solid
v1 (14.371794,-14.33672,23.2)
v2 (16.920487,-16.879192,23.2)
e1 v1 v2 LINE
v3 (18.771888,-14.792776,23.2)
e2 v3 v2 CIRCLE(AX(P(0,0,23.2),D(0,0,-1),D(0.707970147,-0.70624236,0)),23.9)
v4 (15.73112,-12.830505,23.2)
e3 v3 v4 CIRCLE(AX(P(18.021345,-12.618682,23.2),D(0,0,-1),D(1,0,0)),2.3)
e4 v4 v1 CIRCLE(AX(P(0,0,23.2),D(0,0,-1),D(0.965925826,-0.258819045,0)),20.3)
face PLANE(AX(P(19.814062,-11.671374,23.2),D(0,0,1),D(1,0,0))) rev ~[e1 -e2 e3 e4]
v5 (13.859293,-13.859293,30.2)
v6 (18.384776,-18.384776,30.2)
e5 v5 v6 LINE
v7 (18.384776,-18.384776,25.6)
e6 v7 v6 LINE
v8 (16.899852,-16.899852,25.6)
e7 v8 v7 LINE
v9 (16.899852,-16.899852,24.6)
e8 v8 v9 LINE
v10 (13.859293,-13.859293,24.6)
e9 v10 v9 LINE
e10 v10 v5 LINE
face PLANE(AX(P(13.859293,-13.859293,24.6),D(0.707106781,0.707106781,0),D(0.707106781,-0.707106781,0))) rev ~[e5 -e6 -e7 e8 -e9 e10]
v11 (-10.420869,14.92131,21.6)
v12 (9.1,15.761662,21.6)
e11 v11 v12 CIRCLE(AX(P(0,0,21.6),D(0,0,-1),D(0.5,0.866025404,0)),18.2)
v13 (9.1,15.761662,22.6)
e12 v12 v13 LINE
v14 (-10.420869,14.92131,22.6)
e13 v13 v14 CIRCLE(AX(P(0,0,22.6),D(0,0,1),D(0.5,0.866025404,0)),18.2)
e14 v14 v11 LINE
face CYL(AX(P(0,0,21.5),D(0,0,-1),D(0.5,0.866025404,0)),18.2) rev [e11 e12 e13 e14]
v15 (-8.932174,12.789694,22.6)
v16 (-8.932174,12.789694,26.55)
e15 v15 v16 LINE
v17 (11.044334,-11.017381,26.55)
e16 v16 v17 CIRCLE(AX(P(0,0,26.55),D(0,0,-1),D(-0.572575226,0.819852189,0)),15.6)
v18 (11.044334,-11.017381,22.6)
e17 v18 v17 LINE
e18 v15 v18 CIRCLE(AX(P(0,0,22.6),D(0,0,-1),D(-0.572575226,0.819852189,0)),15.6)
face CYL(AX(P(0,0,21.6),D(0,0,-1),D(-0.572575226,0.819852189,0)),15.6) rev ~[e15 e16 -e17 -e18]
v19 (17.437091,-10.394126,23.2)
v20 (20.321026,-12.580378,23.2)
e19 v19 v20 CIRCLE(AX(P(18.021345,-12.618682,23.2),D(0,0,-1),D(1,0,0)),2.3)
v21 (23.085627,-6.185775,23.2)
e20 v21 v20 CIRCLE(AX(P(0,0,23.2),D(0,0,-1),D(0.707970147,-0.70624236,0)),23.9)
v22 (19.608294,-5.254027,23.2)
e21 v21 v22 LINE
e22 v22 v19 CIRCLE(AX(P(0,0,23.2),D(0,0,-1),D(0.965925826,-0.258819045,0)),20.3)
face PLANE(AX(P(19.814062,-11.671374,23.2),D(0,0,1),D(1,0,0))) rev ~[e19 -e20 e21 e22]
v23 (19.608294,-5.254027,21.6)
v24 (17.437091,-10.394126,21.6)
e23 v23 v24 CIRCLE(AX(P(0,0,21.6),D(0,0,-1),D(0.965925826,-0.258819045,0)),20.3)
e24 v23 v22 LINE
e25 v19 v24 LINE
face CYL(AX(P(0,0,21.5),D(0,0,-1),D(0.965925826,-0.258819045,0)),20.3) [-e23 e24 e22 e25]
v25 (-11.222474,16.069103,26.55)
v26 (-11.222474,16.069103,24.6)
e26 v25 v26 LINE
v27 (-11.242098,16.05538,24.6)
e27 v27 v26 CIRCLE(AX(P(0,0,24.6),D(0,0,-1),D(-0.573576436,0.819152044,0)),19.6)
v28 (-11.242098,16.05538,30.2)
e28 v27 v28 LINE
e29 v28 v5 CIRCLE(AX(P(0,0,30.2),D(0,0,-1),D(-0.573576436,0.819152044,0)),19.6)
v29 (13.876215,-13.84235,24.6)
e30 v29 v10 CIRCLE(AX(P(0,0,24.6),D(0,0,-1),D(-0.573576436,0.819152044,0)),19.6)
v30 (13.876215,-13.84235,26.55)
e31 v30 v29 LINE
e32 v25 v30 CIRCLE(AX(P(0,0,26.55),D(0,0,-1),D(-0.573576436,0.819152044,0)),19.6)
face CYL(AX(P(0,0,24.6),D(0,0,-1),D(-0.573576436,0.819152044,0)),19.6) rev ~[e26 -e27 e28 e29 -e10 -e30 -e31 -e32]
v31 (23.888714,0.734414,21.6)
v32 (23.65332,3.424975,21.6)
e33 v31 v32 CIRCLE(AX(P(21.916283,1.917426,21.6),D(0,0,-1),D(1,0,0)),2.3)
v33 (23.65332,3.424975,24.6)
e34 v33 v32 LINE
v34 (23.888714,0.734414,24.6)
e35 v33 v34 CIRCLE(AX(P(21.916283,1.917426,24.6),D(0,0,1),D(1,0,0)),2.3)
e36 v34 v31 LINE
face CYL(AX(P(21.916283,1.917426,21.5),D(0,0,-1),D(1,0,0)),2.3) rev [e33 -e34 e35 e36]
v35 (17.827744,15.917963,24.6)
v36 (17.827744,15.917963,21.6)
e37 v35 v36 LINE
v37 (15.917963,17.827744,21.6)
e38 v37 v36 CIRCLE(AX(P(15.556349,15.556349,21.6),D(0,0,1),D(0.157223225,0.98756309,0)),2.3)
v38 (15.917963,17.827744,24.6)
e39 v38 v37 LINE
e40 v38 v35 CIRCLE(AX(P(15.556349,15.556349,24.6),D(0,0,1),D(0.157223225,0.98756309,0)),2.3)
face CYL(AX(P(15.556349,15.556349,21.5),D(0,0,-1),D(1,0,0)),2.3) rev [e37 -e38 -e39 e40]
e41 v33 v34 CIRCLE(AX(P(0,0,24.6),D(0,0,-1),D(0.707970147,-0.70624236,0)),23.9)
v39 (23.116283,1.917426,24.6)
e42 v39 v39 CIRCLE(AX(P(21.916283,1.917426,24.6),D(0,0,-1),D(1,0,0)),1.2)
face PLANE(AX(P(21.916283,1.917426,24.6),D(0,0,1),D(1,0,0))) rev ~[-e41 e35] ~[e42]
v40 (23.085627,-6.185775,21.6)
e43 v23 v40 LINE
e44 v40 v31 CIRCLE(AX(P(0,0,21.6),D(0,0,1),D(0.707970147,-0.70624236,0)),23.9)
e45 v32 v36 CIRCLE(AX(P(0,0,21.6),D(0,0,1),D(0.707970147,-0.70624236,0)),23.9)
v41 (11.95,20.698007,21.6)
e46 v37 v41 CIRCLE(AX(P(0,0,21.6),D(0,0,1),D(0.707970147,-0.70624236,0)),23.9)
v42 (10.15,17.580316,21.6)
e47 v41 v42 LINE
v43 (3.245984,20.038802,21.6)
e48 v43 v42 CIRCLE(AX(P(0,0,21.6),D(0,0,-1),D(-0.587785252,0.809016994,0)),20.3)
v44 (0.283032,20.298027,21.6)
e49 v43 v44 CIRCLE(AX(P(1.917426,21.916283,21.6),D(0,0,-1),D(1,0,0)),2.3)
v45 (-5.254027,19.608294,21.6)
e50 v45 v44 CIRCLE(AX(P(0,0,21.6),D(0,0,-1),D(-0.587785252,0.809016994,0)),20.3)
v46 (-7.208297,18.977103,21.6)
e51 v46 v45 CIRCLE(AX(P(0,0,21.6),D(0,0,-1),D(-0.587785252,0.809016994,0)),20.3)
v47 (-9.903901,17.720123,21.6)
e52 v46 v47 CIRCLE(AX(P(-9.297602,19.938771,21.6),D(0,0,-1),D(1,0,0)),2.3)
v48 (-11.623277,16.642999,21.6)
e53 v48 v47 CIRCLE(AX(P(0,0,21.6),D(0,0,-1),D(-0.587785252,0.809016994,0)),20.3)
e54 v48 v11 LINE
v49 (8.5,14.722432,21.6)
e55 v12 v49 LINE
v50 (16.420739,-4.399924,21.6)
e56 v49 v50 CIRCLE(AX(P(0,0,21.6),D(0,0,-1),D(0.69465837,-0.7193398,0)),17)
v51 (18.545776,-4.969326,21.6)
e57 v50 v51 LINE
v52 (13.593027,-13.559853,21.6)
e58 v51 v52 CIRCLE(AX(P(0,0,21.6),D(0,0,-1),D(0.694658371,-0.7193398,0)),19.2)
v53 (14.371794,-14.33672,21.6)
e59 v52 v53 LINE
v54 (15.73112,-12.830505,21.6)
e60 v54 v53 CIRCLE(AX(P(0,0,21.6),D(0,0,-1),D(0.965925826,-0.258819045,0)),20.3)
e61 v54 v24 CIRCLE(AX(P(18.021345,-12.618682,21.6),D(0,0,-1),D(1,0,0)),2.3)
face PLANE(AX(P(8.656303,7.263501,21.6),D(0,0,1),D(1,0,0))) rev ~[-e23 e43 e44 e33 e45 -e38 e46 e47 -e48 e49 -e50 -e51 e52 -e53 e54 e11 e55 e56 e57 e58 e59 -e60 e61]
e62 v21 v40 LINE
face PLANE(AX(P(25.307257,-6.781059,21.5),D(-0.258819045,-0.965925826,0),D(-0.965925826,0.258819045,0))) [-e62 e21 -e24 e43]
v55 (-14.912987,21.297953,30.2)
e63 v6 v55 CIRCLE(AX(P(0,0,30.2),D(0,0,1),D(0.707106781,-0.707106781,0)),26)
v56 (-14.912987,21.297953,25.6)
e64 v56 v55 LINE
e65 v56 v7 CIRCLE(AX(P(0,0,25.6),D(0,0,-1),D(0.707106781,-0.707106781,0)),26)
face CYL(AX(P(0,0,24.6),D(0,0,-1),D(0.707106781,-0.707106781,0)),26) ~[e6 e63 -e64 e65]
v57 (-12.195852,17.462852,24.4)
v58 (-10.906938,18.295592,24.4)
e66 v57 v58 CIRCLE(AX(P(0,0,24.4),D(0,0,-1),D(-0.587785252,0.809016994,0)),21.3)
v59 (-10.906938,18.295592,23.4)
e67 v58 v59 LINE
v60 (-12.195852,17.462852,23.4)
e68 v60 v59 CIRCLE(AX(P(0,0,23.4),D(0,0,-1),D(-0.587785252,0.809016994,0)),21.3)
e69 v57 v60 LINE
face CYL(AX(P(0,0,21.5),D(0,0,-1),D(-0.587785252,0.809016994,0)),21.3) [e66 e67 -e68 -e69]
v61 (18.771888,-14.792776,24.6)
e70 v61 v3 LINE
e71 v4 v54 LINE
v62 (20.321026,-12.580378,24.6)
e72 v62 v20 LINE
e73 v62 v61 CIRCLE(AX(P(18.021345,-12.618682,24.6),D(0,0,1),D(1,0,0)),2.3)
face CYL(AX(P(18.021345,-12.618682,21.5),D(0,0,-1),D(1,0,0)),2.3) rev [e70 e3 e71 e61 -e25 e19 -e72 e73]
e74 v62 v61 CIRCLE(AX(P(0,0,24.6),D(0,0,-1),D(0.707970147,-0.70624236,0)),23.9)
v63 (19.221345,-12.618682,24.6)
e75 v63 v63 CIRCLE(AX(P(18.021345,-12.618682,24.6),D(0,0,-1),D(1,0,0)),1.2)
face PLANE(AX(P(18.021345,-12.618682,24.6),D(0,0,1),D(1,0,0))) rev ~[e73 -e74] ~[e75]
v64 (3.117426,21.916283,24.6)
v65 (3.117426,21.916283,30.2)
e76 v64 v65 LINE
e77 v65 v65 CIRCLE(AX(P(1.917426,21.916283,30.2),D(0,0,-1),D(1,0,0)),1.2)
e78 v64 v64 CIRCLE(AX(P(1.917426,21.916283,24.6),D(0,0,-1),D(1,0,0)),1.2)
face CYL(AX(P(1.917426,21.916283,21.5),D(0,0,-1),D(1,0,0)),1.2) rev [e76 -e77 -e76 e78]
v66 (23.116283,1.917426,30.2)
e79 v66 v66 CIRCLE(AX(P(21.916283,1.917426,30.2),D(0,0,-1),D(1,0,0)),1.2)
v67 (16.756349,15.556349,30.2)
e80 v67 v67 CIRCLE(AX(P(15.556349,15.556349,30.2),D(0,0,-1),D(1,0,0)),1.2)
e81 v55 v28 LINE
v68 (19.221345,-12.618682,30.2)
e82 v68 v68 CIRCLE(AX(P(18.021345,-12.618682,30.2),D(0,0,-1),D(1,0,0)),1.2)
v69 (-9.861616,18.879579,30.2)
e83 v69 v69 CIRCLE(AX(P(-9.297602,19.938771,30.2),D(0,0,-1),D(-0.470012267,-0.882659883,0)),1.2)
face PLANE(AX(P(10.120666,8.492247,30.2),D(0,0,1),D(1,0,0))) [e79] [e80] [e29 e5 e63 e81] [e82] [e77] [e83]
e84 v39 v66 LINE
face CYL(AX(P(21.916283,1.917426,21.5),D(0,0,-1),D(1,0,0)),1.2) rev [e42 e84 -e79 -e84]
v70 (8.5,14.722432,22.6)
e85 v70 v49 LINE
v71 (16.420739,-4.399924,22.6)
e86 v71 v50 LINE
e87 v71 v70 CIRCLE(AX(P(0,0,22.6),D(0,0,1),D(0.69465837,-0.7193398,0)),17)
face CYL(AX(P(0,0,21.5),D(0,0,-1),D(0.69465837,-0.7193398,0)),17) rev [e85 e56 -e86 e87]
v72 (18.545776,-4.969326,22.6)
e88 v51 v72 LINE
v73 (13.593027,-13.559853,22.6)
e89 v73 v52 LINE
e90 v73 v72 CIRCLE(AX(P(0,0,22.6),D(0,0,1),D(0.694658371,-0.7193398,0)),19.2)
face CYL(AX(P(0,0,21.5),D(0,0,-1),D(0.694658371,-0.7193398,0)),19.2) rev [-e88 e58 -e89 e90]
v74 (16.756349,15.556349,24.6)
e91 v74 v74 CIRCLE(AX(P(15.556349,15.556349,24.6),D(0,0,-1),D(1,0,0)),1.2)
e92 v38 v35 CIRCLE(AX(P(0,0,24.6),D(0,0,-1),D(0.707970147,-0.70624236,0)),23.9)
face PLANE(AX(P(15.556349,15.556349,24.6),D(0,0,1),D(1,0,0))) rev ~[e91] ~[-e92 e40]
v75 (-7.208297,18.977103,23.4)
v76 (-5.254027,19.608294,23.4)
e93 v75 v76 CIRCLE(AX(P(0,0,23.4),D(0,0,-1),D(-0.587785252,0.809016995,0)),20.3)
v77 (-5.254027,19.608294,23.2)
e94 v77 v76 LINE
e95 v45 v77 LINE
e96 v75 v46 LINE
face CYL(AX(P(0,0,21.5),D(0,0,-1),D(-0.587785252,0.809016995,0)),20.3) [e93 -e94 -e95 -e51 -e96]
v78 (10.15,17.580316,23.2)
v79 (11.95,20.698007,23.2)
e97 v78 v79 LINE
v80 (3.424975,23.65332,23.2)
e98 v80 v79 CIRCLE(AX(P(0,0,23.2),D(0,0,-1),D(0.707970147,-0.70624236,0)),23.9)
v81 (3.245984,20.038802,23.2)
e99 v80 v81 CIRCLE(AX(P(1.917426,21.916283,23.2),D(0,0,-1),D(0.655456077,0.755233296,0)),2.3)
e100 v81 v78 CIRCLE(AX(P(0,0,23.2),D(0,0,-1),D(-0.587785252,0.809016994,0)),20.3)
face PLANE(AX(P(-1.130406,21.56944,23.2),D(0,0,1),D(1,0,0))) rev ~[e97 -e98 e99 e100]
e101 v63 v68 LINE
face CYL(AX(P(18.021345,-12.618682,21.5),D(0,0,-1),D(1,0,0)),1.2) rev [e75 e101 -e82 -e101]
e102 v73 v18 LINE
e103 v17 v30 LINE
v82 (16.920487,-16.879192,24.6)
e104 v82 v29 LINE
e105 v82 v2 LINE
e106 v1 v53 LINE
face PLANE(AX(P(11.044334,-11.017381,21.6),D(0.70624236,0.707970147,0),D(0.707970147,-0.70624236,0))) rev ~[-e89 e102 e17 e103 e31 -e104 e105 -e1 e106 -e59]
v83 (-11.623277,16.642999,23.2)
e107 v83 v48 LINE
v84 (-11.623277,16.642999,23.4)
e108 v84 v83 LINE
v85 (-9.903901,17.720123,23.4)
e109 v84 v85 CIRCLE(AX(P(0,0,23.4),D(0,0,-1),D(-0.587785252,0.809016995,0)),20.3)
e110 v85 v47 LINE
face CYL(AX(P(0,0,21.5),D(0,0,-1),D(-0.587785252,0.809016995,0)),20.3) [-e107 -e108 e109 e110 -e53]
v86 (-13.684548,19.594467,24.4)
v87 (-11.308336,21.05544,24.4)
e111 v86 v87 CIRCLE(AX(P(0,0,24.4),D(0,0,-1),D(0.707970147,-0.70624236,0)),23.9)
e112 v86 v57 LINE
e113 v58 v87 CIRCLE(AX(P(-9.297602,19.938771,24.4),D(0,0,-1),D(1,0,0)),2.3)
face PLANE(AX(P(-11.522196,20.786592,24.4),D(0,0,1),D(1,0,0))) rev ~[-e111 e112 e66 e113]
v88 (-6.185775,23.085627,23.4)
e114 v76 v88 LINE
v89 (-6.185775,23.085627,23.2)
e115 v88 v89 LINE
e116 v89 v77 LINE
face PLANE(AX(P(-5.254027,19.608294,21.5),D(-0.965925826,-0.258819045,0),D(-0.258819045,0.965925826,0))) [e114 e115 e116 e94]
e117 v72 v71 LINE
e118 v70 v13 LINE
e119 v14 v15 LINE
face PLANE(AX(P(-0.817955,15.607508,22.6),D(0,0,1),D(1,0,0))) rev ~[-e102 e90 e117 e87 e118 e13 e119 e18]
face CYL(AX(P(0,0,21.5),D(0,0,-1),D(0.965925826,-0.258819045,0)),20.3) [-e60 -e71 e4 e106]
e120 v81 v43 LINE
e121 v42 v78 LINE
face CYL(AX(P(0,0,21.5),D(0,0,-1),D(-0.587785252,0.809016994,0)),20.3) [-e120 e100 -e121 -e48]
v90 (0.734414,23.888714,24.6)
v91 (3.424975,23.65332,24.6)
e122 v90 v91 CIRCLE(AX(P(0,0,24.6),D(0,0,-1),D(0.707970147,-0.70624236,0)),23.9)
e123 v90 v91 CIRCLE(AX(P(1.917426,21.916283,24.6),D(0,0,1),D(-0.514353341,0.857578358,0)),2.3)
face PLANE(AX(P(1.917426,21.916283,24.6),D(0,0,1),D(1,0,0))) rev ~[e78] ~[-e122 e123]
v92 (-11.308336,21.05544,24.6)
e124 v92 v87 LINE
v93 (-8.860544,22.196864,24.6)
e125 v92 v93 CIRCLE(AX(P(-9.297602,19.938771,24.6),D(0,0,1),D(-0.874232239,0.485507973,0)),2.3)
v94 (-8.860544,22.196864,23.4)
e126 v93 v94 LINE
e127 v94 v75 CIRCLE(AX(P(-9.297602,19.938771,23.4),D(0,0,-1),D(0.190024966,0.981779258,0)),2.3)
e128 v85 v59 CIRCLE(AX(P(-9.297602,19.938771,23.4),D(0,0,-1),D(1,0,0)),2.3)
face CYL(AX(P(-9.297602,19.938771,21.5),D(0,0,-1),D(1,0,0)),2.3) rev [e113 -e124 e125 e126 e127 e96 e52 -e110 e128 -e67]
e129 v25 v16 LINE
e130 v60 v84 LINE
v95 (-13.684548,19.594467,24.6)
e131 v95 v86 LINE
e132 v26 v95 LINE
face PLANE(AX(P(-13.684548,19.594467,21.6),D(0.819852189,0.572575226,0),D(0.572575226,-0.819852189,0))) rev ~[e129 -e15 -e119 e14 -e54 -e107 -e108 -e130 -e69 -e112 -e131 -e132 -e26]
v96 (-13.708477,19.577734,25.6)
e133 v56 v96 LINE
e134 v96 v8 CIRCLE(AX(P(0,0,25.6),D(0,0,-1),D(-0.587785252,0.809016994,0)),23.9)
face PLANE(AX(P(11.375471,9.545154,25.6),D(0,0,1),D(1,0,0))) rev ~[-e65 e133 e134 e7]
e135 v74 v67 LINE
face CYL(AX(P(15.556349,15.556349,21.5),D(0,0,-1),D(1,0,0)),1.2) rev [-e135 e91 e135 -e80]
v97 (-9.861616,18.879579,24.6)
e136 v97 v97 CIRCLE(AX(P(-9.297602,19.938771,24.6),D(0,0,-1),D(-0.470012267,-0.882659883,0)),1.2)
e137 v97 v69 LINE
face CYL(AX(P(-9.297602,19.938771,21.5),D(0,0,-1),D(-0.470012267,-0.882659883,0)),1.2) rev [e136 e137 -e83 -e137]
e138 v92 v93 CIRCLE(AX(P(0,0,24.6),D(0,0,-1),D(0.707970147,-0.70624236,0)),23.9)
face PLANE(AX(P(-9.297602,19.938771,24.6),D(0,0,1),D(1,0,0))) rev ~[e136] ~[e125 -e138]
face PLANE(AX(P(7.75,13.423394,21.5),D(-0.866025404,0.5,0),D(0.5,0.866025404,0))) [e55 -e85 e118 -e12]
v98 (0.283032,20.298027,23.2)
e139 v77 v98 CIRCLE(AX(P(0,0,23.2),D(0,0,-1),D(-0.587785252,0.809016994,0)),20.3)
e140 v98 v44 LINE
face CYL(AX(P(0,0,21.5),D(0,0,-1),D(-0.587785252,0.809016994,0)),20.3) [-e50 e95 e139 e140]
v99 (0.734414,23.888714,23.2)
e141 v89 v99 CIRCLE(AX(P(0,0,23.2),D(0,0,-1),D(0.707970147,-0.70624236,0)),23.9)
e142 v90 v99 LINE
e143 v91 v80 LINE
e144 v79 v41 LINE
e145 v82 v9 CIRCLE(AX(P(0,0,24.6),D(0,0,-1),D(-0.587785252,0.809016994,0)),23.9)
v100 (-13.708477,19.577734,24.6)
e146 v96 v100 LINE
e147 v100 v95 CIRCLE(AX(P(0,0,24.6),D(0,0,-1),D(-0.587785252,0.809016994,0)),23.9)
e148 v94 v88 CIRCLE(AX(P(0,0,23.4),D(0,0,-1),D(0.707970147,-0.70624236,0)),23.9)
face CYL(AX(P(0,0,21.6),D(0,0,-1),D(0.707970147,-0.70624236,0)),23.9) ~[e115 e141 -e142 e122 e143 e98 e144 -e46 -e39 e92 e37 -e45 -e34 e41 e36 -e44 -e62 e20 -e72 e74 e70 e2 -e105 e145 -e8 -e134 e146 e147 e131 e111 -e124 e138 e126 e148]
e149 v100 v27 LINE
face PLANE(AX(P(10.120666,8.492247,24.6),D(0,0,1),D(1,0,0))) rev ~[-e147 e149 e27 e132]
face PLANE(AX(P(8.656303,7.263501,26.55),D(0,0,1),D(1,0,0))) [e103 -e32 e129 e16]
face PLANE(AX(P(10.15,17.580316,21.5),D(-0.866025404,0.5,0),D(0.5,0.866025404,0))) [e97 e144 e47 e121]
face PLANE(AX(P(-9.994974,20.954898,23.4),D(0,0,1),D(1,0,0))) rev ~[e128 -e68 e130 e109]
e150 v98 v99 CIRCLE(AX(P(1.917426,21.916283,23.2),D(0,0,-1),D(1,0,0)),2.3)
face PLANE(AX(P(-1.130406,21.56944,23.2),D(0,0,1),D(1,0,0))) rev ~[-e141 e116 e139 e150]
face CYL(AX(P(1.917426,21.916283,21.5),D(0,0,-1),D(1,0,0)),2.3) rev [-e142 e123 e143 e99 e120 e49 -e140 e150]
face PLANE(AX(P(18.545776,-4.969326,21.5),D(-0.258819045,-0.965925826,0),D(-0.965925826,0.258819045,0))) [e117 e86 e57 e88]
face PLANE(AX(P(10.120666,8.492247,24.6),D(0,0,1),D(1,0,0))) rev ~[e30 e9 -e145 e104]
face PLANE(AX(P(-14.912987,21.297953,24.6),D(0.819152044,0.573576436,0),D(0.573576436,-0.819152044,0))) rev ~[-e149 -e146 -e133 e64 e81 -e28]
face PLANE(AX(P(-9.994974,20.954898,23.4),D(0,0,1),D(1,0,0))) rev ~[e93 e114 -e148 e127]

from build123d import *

# Parameters (mm, degrees)
BOSS_1_DEPTH  = 5.6
BOSS_2_DEPTH  = 4.95
CUT_3_DEPTH   = 1.1
CUT_4_DEPTH   = 1.1
CUT_5_DEPTH   = 1.1
CUT_6_DEPTH   = 1.1
CUT_7_DEPTH   = 1.7
CUT_8_DEPTH   = 1.7
CUT_9_DEPTH   = 1.9
CUT_10_DEPTH  = 2.9
S_HOLE11_R    = 1.2
HOLE_11_DEPTH = 8.8
S_HOLE12_R    = 2.3
HOLE_12_DEPTH = 3.1
S_HOLE13_R    = 1.2
HOLE_13_DEPTH = 8.8
S_HOLE14_R    = 2.3
HOLE_14_DEPTH = 3.1
S_HOLE15_R    = 1.2
HOLE_15_DEPTH = 8.8
S_HOLE16_R    = 2.3
HOLE_16_DEPTH = 3.1
S_HOLE17_R    = 1.2
HOLE_17_DEPTH = 8.8
S_HOLE18_R    = 2.3
HOLE_18_DEPTH = 3.1
S_HOLE19_R    = 1.2
HOLE_19_DEPTH = 8.8
S_HOLE20_R    = 2.3
HOLE_20_DEPTH = 3.1


with BuildPart() as part:
    # S_prism1 → Boss_1 (new body)
    with BuildSketch(Plane.XY.offset(24.6)):
        with BuildLine():
            Line((-14.912987345, 21.297953152), (-11.242098152, 16.055380068))
            ThreePointArc((-11.242098152, 16.055380068), (15.014471085, 12.59863715), (13.859292911, -13.859292911))
            Line((13.859292911, -13.859292911), (18.384776311, -18.384776311))
            ThreePointArc((18.384776311, -18.384776311), (19.917155521, 16.712477852), (-14.912987345, 21.297953152))
        make_face()
    extrude(amount=BOSS_1_DEPTH)

    # S_prism2 → Boss_2 (add)
    with BuildSketch(Plane.XY.offset(21.6)):
        with BuildLine():
            Line((-13.68454789, 19.594467307), (-8.932173518, 12.789694142))
            ThreePointArc((-8.932173518, 12.789694142), (11.950293313, 10.027486711), (11.044334296, -11.017380812))
            Line((11.044334296, -11.017380812), (16.920486517, -16.879192399))
            ThreePointArc((16.920486517, -16.879192399), (18.308462191, 15.362623872), (-13.68454789, 19.594467307))
        make_face()
    extrude(amount=BOSS_2_DEPTH)

    # S_pcut3 → Cut_3 (cut)
    with BuildSketch(Plane.XY.offset(24.5)):
        with BuildLine():
            Line((-15.39997361, 21.196245253), (-14.04806753, 19.335506166))
            ThreePointArc((-14.04806753, 19.335506166), (18.308462191, 15.362623872), (16.602335054, -17.192221228))
            Line((16.602335054, -17.192221228), (18.200049306, -18.846702769))
            ThreePointArc((18.200049306, -18.846702769), (20.07036441, 16.841035374), (-15.39997361, 21.196245253))
        make_face()
    extrude(amount=CUT_3_DEPTH, mode=Mode.SUBTRACT)

    # S_pcut4 → Cut_4 (cut)
    with BuildSketch(Plane.XY.offset(21.5)):
        with BuildLine():
            Line((-9.992349289, 13.753288904), (-9.110671411, 12.539763413))
            ThreePointArc((-9.110671411, 12.539763413), (11.873688868, 9.96320795), (10.767204742, -11.149766905))
            Line((10.767204742, -11.149766905), (11.809192298, -12.228776606))
            ThreePointArc((11.809192298, -12.228776606), (13.022755533, 10.927389365), (-9.992349289, 13.753288904))
        make_face()
    extrude(amount=CUT_4_DEPTH, mode=Mode.SUBTRACT)

    # S_pcut5 → Cut_5 (cut)
    with BuildSketch(Plane.XY.offset(21.5)):
        with BuildLine():
            Line((-10.697691592, 14.724109298), (-9.110671411, 12.539763413))
            ThreePointArc((-9.110671411, 12.539763413), (-0.811207322, 15.478757789), (7.75, 13.423393759))
            Line((7.75, 13.423393759), (9.1, 15.761662349))
            ThreePointArc((9.1, 15.761662349), (-0.952514404, 18.175057533), (-10.697691592, 14.724109298))
        make_face()
    extrude(amount=CUT_5_DEPTH, mode=Mode.SUBTRACT)

    # S_pcut6 → Cut_6 (cut)
    with BuildSketch(Plane.XY.offset(21.5)):
        with BuildLine():
            Line((18.545775865, -4.969325666), (14.971850307, -4.011695199))
            ThreePointArc((14.971850307, -4.011695199), (13.355251987, -7.866844626), (10.767204742, -11.149766905))
            Line((10.767204742, -11.149766905), (13.337440713, -13.811324167))
            ThreePointArc((13.337440713, -13.811324167), (16.54327988, -9.744736569), (18.545775865, -4.969325666))
        make_face()
    extrude(amount=CUT_6_DEPTH, mode=Mode.SUBTRACT)

    # S_pcut7 → Cut_7 (cut)
    with BuildSketch(Plane.XY.offset(21.5)):
        with BuildLine():
            Line((25.307256649, -6.781058982), (19.608294274, -5.254026616))
            ThreePointArc((19.608294274, -5.254026616), (17.491071957, -10.303028768), (14.10156492, -14.602597947))
            Line((14.10156492, -14.602597947), (18.200049306, -18.846702769))
            ThreePointArc((18.200049306, -18.846702769), (22.574684004, -13.29750511), (25.307256649, -6.781058982))
        make_face()
    extrude(amount=CUT_7_DEPTH, mode=Mode.SUBTRACT)

    # S_pcut8 → Cut_8 (cut)
    with BuildSketch(Plane.XY.offset(21.5)):
        with BuildLine():
            Line((-15.39997361, 21.196245253), (-11.932040622, 16.423044986))
            ThreePointArc((-11.932040622, 16.423044986), (-1.062419912, 20.272179556), (10.15, 17.580315697))
            Line((10.15, 17.580315697), (13.1, 22.689865579))
            ThreePointArc((13.1, 22.689865579), (-1.371202054, 26.164093811), (-15.39997361, 21.196245253))
        make_face()
    extrude(amount=CUT_8_DEPTH, mode=Mode.SUBTRACT)

    # S_pcut9 → Cut_9 (cut)
    with BuildSketch(Plane.XY.offset(21.5)):
        with BuildLine():
            Line((-15.39997361, 21.196245253), (-11.932040622, 16.423044986))
            ThreePointArc((-11.932040622, 16.423044986), (-8.739375265, 18.322481272), (-5.254026616, 19.608294274))
            Line((-5.254026616, 19.608294274), (-6.781058982, 25.307256649))
            ThreePointArc((-6.781058982, 25.307256649), (-11.279390736, 23.64773445), (-15.39997361, 21.196245253))
        make_face()
    extrude(amount=CUT_9_DEPTH, mode=Mode.SUBTRACT)

    # S_pcut10 → Cut_10 (cut)
    with BuildSketch(Plane.XY.offset(21.5)):
        with BuildLine():
            Line((-15.39997361, 21.196245253), (-12.519825874, 17.23206198))
            ThreePointArc((-12.519825874, 17.23206198), (-10.326444911, 18.629399762), (-7.97912044, 19.749016102))
            Line((-7.97912044, 19.749016102), (-9.814692747, 24.29221699))
            ThreePointArc((-9.814692747, 24.29221699), (-12.70201205, 22.915036327), (-15.39997361, 21.196245253))
        make_face()
    extrude(amount=CUT_10_DEPTH, mode=Mode.SUBTRACT)

    # S_hole11 → Hole_11 (cut)
    with BuildSketch(Plane.XY.offset(21.5)):
        with Locations((18.021344974, -12.6186816)):
            Circle(S_HOLE11_R)
    extrude(amount=HOLE_11_DEPTH, mode=Mode.SUBTRACT)

    # S_hole12 → Hole_12 (cut)
    with BuildSketch(Plane.XY.offset(21.5)):
        with Locations((18.021344974, -12.6186816)):
            Circle(S_HOLE12_R)
    extrude(amount=HOLE_12_DEPTH, mode=Mode.SUBTRACT)

    # S_hole13 → Hole_13 (cut)
    with BuildSketch(Plane.XY.offset(21.5)):
        with Locations((21.916283358, 1.91742634)):
            Circle(S_HOLE13_R)
    extrude(amount=HOLE_13_DEPTH, mode=Mode.SUBTRACT)

    # S_hole14 → Hole_14 (cut)
    with BuildSketch(Plane.XY.offset(21.5)):
        with Locations((21.916283358, 1.91742634)):
            Circle(S_HOLE14_R)
    extrude(amount=HOLE_14_DEPTH, mode=Mode.SUBTRACT)

    # S_hole15 → Hole_15 (cut)
    with BuildSketch(Plane.XY.offset(21.5)):
        with Locations((15.556349186, 15.556349186)):
            Circle(S_HOLE15_R)
    extrude(amount=HOLE_15_DEPTH, mode=Mode.SUBTRACT)

    # S_hole16 → Hole_16 (cut)
    with BuildSketch(Plane.XY.offset(21.5)):
        with Locations((15.556349186, 15.556349186)):
            Circle(S_HOLE16_R)
    extrude(amount=HOLE_16_DEPTH, mode=Mode.SUBTRACT)

    # S_hole17 → Hole_17 (cut)
    with BuildSketch(Plane.XY.offset(21.5)):
        with Locations((1.91742634, 21.916283358)):
            Circle(S_HOLE17_R)
    extrude(amount=HOLE_17_DEPTH, mode=Mode.SUBTRACT)

    # S_hole18 → Hole_18 (cut)
    with BuildSketch(Plane.XY.offset(21.5)):
        with Locations((1.91742634, 21.916283358)):
            Circle(S_HOLE18_R)
    extrude(amount=HOLE_18_DEPTH, mode=Mode.SUBTRACT)

    # S_hole19 → Hole_19 (cut)
    with BuildSketch(Plane.XY.offset(21.5)):
        with Locations(Location((-9.297601758, 19.938771315, 0), (0, 0, 241.964907162))):
            Circle(S_HOLE19_R)
    extrude(amount=HOLE_19_DEPTH, mode=Mode.SUBTRACT)

    # S_hole20 → Hole_20 (cut)
    with BuildSketch(Plane.XY.offset(21.5)):
        with Locations((-9.297601758, 19.938771315)):
            Circle(S_HOLE20_R)
    extrude(amount=HOLE_20_DEPTH, mode=Mode.SUBTRACT)


solid = part.part
